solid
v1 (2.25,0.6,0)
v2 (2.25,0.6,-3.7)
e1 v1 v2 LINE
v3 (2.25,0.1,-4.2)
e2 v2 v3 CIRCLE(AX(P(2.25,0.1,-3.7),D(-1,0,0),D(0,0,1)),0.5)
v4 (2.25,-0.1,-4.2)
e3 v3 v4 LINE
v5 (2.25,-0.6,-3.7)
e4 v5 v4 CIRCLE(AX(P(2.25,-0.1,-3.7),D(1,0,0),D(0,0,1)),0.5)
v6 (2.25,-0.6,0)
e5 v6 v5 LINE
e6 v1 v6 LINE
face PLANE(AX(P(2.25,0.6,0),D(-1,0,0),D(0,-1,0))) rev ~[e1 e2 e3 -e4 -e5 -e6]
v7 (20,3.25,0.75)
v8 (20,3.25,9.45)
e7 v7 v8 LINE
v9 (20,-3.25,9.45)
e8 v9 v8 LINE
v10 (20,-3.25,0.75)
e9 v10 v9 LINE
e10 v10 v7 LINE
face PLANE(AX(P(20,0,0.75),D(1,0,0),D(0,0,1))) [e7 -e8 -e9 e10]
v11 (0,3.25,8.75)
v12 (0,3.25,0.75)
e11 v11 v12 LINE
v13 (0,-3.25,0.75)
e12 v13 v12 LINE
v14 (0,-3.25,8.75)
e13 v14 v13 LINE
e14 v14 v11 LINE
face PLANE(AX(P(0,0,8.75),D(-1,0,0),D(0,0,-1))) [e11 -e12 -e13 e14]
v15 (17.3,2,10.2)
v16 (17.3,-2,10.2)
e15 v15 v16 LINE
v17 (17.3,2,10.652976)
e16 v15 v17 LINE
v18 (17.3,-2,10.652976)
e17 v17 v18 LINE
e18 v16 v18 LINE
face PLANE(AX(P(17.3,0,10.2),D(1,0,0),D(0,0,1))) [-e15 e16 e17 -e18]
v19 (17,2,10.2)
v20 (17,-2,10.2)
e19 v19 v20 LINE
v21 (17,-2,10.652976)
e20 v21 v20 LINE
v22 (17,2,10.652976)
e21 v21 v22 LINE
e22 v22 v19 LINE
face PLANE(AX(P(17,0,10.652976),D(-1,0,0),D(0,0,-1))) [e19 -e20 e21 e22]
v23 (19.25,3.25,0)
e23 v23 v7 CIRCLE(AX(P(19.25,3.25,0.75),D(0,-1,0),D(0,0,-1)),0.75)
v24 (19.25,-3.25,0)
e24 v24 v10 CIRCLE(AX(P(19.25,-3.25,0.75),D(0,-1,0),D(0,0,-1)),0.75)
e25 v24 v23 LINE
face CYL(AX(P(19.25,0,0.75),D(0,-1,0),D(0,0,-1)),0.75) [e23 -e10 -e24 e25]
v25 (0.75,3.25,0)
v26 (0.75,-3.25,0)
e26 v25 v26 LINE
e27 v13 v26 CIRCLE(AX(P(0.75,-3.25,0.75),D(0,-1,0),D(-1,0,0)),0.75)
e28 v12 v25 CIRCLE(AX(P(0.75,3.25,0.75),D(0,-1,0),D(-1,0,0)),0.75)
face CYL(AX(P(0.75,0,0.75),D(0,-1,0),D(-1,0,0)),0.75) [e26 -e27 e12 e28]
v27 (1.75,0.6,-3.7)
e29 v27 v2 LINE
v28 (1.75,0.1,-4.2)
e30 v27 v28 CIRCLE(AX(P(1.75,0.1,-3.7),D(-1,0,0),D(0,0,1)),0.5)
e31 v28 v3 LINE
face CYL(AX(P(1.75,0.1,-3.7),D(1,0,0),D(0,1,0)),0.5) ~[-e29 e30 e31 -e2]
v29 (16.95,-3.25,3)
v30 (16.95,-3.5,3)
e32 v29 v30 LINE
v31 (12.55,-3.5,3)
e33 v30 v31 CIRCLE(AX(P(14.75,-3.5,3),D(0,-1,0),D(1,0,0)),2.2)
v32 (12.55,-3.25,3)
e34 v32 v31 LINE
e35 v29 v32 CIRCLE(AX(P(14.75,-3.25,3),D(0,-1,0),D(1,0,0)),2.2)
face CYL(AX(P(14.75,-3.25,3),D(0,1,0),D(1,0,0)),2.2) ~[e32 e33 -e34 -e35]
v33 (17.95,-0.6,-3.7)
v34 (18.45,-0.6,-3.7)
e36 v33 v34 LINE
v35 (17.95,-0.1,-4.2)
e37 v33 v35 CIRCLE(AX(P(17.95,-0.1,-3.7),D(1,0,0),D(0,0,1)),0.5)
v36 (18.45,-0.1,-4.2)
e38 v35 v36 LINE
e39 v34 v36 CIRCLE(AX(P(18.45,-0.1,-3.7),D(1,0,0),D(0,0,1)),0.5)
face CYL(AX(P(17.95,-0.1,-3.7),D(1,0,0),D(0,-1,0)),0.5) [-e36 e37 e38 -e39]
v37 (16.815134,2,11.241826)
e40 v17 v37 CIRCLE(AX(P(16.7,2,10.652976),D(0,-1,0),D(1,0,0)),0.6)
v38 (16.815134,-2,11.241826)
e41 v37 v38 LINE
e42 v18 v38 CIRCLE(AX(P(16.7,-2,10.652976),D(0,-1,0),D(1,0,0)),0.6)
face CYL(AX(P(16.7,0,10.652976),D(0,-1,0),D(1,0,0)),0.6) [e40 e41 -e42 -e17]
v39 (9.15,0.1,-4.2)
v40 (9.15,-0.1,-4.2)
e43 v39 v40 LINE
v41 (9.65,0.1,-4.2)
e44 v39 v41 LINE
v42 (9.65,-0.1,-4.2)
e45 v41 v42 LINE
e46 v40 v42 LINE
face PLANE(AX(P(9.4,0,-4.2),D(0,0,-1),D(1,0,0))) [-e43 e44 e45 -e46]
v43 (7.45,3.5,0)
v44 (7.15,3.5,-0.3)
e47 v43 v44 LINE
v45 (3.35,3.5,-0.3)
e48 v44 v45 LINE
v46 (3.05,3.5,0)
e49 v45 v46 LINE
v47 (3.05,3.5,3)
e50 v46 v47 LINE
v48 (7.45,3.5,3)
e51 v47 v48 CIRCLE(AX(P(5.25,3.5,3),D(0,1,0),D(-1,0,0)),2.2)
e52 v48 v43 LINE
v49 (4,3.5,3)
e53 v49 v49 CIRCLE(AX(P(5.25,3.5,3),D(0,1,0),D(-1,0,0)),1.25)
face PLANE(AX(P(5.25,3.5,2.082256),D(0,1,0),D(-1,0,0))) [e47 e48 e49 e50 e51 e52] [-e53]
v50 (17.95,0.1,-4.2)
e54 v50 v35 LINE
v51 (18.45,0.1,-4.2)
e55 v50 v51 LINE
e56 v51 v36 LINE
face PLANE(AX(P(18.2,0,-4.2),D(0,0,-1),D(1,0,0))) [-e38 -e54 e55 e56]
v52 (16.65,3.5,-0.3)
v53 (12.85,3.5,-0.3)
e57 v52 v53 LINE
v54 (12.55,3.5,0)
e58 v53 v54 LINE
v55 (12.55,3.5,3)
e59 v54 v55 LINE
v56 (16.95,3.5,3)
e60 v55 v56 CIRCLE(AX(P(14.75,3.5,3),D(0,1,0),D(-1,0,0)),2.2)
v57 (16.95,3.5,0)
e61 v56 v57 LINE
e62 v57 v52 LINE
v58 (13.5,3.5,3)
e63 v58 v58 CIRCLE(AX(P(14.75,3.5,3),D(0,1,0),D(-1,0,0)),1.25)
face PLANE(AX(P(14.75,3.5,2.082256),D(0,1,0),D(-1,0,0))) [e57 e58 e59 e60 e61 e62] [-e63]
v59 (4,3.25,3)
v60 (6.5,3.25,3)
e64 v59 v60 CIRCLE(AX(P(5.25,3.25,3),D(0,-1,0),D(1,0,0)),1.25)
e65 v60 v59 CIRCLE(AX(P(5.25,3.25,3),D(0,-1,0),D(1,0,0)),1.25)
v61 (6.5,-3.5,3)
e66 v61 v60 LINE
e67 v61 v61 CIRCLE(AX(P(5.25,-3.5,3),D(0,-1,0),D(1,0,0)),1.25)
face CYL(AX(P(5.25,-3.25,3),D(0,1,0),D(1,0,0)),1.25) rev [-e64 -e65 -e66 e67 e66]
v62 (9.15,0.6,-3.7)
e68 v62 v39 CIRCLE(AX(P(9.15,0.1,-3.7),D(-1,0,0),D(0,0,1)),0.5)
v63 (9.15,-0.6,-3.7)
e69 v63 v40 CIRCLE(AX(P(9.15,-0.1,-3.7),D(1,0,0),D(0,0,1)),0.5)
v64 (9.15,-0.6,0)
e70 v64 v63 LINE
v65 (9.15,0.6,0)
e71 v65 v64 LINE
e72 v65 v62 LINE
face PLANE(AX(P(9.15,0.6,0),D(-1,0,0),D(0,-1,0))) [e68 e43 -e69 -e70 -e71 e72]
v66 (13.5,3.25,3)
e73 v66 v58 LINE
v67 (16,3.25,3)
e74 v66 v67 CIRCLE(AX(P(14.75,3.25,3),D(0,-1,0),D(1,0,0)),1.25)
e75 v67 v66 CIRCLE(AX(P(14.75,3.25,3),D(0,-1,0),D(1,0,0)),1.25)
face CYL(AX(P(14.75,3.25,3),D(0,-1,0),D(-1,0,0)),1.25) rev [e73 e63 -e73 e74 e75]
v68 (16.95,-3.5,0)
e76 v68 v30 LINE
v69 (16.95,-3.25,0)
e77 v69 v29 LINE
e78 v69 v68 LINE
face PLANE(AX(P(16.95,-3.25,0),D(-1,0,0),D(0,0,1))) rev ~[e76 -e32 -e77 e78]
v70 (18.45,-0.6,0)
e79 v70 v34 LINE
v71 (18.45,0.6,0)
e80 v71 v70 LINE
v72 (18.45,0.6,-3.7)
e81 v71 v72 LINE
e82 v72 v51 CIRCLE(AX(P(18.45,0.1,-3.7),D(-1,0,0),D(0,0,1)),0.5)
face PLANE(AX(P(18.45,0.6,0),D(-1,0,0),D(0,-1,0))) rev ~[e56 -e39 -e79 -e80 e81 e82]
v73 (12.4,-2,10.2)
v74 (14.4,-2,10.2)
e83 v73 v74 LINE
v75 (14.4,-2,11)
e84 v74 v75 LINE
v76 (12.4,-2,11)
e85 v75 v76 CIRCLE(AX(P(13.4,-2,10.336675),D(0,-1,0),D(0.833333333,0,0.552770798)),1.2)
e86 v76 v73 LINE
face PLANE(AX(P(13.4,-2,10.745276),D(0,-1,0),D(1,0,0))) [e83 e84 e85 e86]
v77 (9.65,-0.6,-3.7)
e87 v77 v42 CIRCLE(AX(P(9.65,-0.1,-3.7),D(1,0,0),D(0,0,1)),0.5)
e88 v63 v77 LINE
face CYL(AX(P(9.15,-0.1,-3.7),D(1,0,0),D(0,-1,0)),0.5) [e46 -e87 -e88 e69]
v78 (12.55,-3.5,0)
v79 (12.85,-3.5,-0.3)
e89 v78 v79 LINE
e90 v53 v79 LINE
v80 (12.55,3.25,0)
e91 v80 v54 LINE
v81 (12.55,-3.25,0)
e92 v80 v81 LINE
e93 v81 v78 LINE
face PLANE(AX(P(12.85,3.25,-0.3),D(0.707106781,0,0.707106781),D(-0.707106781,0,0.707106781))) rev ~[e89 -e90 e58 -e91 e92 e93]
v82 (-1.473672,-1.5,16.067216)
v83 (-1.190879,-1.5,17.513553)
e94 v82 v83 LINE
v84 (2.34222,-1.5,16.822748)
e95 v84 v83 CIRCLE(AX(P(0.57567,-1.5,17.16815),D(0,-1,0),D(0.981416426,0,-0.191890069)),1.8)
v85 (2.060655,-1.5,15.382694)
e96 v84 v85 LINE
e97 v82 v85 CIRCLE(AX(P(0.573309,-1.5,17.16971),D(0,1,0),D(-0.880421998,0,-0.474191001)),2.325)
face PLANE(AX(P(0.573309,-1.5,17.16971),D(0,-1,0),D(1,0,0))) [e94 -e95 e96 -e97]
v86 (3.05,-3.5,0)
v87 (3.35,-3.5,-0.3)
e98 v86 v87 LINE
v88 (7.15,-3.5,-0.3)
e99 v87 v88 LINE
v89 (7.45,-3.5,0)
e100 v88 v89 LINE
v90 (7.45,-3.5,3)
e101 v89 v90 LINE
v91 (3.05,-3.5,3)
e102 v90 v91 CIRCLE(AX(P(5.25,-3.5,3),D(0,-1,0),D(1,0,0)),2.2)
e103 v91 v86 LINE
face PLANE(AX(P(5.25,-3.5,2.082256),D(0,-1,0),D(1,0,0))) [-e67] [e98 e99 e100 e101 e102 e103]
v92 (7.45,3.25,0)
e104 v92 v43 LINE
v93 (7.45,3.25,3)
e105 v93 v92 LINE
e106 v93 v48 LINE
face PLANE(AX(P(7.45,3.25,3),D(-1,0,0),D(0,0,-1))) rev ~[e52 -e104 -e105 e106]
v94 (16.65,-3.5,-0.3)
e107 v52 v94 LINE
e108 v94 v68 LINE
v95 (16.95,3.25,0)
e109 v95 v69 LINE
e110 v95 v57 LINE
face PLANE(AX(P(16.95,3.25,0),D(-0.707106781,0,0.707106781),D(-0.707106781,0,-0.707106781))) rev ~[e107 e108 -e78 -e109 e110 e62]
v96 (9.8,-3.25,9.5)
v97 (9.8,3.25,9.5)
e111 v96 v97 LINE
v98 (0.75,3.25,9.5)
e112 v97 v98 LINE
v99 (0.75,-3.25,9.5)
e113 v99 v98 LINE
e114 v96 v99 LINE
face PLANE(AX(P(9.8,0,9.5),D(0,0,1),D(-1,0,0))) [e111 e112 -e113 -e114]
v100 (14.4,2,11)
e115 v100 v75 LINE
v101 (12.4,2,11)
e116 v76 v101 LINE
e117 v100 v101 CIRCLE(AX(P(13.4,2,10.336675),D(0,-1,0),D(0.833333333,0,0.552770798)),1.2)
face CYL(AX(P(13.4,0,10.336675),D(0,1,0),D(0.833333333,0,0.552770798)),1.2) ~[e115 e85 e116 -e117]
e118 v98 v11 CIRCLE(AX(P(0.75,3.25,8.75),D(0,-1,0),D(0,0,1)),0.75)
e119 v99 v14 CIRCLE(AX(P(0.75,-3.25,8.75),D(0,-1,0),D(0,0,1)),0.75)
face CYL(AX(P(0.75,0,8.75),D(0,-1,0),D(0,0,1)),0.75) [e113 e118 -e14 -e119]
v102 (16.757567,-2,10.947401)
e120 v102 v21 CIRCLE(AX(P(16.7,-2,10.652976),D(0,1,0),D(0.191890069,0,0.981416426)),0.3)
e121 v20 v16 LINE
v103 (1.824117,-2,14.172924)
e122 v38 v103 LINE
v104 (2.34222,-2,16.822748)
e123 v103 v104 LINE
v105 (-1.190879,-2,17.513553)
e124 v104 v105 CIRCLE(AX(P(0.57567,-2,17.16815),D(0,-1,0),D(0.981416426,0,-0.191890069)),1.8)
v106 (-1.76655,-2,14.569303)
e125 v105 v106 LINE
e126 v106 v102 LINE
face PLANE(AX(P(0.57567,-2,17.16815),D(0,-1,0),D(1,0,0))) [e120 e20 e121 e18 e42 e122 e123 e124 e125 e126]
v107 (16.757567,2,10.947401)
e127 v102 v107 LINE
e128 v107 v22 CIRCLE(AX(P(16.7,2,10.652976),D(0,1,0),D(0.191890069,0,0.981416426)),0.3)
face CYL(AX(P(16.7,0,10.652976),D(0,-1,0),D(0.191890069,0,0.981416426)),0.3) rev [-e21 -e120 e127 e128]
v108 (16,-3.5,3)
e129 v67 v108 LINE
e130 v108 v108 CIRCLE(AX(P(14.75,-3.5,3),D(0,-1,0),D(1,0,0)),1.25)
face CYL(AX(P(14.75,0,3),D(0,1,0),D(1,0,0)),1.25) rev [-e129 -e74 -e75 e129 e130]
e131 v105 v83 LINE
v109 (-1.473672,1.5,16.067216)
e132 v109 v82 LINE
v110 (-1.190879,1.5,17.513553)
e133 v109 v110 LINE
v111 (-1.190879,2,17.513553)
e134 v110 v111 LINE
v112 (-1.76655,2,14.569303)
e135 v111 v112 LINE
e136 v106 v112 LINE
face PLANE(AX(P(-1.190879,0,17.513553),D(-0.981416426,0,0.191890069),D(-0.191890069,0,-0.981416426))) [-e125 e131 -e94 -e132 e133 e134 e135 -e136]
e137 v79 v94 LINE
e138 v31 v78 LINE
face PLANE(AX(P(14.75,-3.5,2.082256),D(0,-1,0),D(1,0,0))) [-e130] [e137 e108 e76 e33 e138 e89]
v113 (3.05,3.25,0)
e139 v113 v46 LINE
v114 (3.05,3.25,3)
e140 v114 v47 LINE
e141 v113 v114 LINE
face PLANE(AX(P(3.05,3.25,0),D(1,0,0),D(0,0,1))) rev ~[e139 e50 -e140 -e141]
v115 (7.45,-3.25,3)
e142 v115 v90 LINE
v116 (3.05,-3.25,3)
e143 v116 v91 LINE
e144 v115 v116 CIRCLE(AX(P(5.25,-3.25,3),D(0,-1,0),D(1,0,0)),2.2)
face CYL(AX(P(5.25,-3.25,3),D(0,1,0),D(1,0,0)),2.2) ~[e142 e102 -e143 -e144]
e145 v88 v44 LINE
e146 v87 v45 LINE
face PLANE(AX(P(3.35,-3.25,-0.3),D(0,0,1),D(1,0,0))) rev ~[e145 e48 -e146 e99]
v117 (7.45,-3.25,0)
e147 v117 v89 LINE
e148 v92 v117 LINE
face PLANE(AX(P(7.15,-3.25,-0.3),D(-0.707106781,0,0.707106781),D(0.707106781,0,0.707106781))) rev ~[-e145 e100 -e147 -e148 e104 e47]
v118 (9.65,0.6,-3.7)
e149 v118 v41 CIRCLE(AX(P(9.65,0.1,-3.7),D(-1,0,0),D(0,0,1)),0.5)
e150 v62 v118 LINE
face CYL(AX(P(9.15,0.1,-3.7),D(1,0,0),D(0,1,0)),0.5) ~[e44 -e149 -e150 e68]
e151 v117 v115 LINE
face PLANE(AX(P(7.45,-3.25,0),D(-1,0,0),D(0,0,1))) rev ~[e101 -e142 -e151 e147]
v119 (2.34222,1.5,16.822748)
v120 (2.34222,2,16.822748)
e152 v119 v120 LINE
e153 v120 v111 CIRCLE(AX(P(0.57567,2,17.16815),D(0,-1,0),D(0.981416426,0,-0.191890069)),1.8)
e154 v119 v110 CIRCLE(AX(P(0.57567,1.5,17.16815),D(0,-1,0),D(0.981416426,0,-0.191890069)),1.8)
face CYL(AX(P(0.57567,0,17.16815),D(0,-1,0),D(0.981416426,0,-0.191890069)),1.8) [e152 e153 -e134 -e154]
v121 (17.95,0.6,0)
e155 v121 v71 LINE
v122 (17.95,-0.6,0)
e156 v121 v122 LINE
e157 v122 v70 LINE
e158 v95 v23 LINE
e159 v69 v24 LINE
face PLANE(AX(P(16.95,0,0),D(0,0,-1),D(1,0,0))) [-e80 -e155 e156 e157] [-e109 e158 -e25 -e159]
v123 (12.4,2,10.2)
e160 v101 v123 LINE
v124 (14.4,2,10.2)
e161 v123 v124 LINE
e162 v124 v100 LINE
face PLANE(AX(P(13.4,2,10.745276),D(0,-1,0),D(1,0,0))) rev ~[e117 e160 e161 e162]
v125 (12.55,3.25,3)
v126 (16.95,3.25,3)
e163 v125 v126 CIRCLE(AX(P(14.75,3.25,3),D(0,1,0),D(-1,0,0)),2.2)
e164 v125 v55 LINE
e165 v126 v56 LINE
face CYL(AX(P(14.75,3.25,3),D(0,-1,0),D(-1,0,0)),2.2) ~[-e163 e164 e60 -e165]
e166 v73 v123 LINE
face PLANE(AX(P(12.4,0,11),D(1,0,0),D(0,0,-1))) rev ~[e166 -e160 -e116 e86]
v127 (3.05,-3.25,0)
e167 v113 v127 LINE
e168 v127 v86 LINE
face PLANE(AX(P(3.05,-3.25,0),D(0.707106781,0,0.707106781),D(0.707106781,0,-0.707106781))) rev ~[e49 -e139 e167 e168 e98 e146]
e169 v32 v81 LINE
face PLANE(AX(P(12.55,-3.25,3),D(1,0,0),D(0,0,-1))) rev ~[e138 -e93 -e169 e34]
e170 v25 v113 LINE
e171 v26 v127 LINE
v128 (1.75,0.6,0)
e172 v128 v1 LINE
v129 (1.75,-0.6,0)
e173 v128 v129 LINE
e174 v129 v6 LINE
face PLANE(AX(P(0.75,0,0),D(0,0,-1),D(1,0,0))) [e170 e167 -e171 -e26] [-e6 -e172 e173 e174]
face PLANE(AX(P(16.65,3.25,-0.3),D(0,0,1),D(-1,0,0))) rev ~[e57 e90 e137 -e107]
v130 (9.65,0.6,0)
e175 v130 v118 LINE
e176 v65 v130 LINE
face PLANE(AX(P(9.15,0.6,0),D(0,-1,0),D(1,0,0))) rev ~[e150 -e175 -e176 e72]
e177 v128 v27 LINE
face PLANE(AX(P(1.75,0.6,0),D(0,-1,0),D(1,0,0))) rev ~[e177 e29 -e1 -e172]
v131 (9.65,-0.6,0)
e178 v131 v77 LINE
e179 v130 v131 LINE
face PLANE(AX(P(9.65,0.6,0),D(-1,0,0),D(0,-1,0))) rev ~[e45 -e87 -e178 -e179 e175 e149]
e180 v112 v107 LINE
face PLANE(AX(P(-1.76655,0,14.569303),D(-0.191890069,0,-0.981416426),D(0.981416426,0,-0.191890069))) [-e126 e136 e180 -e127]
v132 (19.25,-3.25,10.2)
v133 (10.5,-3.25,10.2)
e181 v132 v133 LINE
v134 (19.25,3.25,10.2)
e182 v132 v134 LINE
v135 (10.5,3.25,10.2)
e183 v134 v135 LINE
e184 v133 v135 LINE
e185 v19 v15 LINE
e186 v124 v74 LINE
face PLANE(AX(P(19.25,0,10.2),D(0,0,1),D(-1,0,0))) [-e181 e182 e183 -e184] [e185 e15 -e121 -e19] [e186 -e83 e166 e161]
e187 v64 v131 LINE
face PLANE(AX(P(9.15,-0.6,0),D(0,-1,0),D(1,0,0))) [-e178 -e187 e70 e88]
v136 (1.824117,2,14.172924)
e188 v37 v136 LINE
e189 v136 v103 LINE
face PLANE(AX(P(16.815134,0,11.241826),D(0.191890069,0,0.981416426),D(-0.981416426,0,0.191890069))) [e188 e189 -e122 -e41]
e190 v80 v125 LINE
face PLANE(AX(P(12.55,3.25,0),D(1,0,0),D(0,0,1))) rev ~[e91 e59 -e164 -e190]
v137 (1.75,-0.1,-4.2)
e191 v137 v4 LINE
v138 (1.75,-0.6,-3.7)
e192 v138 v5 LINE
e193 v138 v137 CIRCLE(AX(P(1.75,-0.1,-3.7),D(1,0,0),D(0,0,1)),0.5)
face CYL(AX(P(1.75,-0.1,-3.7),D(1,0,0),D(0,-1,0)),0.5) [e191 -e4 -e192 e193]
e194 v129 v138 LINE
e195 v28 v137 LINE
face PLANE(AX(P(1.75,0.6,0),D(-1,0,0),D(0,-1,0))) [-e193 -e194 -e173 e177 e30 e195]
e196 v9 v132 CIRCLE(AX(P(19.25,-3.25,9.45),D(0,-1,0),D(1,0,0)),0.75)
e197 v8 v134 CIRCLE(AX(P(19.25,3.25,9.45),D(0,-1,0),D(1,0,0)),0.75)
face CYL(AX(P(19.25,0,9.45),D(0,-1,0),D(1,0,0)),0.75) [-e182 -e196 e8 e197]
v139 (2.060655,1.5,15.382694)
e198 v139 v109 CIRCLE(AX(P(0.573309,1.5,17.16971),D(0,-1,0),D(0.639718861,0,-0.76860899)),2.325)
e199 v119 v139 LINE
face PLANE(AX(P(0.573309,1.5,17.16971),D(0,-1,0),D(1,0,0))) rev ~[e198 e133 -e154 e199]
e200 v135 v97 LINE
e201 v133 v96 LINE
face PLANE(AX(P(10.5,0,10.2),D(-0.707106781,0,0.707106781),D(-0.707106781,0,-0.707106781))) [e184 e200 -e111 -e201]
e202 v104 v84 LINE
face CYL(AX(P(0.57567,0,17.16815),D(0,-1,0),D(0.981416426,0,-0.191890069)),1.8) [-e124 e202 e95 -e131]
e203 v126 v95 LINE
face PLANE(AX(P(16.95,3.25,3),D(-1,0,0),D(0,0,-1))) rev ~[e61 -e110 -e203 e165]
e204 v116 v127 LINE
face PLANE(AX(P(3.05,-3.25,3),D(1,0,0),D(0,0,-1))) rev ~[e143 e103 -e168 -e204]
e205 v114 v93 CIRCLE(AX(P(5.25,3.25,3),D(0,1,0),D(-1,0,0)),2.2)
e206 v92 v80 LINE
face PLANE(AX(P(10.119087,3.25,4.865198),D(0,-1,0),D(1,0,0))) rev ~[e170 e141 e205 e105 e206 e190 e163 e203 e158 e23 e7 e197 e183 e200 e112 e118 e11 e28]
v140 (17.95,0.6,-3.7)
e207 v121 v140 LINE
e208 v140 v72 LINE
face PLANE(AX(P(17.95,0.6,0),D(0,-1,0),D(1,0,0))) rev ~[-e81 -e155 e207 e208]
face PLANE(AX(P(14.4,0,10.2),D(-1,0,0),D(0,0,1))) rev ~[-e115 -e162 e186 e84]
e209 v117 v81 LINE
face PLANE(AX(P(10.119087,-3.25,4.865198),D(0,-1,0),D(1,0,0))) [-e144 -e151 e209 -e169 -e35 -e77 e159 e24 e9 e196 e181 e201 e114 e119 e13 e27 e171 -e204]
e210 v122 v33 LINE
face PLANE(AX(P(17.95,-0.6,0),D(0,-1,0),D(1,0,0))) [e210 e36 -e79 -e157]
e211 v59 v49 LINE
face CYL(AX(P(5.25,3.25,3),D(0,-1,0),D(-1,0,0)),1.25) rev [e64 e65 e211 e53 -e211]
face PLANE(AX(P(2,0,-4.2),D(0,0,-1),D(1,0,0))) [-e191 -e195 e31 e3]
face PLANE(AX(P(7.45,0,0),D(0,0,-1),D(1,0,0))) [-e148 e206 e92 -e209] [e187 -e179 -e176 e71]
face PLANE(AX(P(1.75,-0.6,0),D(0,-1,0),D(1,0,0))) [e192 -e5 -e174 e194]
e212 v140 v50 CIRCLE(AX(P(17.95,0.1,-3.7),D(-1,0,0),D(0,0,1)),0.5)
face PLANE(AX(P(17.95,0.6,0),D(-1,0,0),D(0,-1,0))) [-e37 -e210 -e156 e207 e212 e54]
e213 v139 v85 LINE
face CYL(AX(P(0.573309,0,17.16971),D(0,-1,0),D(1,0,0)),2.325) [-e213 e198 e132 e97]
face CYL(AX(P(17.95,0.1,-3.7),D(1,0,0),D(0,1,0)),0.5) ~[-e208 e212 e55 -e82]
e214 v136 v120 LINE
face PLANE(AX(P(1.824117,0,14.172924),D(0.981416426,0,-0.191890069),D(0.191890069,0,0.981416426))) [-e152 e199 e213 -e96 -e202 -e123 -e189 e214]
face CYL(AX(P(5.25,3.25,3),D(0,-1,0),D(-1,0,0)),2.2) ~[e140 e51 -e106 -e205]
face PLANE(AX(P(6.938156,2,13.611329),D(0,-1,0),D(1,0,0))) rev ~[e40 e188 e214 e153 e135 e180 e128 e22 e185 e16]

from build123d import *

# Parameters (mm, degrees)
F0_R      = 1.25
F1_DEPTH  = 3.25
F2_R      = 1.25
F3_DEPTH  = 0.25
F4_R      = 1.25
F5_DEPTH  = 0.25
F6_R      = 0.75
F7_DEPTH  = 2
F8_W      = 3.4
F8_H      = 6
F9_DEPTH  = 25
F10_R     = 0.75
F11_DEPTH = 4
F12_W     = 0.5
F12_H     = 1.2
F13_DEPTH = 4.2
F14_R     = 0.5
F15_R     = 2.325
F15_R_2   = 0.8
F16_DEPTH = 1.5


with BuildPart() as f1:
    # F0 (on Front) → F1 (new body, symmetric)
    with BuildSketch(Plane.XZ):
        with BuildLine():
            ThreePointArc((0, 0.75), (0.2196699141, 0.2196699141), (0.75, 0))
            Line((0.75, 0), (3.05, 0))
            Line((3.05, 0), (3.35, -0.3))
            Line((3.35, -0.3), (7.15, -0.3))
            Line((7.15, -0.3), (7.45, 0))
            Line((7.45, 0), (12.55, 0))
            Line((12.55, 0), (12.85, -0.3))
            Line((12.85, -0.3), (16.65, -0.3))
            Line((16.65, -0.3), (16.95, 0))
            Line((16.95, 0), (19.25, 0))
            ThreePointArc((19.25, 0), (19.7803300859, 0.2196699141), (20, 0.75))
            Line((20, 0.75), (20, 9.45))
            ThreePointArc((20, 9.45), (19.7803300859, 9.9803300859), (19.25, 10.2))
            Line((19.25, 10.2), (10.5, 10.2))
            Line((10.5, 10.2), (9.8, 9.5))
            Line((9.8, 9.5), (0.75, 9.5))
            ThreePointArc((0.75, 9.5), (0.2196699141, 9.2803300859), (0, 8.75))
            Line((0, 8.75), (0, 0.75))
        make_face()
        with Locations((5.25, 3)):
            Circle(F0_R, mode=Mode.SUBTRACT)
        with Locations((14.75, 3)):
            Circle(F0_R, mode=Mode.SUBTRACT)
    extrude(amount=F1_DEPTH, both=True)

    # F2 (on face) → F3 (join)
    with BuildSketch(Plane.XZ.offset(3.25)):
        with BuildLine():
            Line((7.45, 0), (7.45, 3))
            ThreePointArc((7.45, 3), (5.25, 5.2), (3.05, 3))
            Line((3.05, 3), (3.05, 0))
            Line((3.05, 0), (3.35, -0.3))
            Line((3.35, -0.3), (7.15, -0.3))
            Line((7.15, -0.3), (7.45, 0))
        make_face()
        with Locations((5.25, 3)):
            Circle(F2_R, mode=Mode.SUBTRACT)
        with BuildLine():
            Line((16.95, 0), (16.95, 3))
            ThreePointArc((16.95, 3), (14.75, 5.2), (12.55, 3))
            Line((12.55, 3), (12.55, 0))
            Line((12.55, 0), (12.85, -0.3))
            Line((12.85, -0.3), (16.65, -0.3))
            Line((16.65, -0.3), (16.95, 0))
        make_face()
        with Locations((14.75, 3)):
            Circle(F2_R, mode=Mode.SUBTRACT)
    extrude(amount=F3_DEPTH)

    # F4 (on face) → F5 (join)
    with BuildSketch(Plane(origin=(0, 3.25, 0), x_dir=(-1, 0, 0), z_dir=(0, 1, 0))):
        with BuildLine():
            Line((-12.55, 0), (-12.55, 3))
            ThreePointArc((-12.55, 3), (-14.75, 5.2), (-16.95, 3))
            Line((-16.95, 3), (-16.95, 0))
            Line((-16.95, 0), (-16.65, -0.3))
            Line((-16.65, -0.3), (-12.85, -0.3))
            Line((-12.85, -0.3), (-12.55, 0))
        make_face()
        with Locations((-14.75, 3)):
            Circle(F4_R, mode=Mode.SUBTRACT)
        with BuildLine():
            Line((-3.05, 0), (-3.05, 3))
            ThreePointArc((-3.05, 3), (-5.25, 5.2), (-7.45, 3))
            Line((-7.45, 3), (-7.45, 0))
            Line((-7.45, 0), (-7.15, -0.3))
            Line((-7.15, -0.3), (-3.35, -0.3))
            Line((-3.35, -0.3), (-3.05, 0))
        make_face()
        with Locations((-5.25, 3)):
            Circle(F4_R, mode=Mode.SUBTRACT)
    extrude(amount=F5_DEPTH)

    # F6 (on Front) → F7 (join, symmetric)
    with BuildSketch(Plane.XZ):
        with BuildLine():
            Line((12.4, 10.2), (14.4, 10.2))
            Line((14.4, 10.2), (14.4, 11))
            ThreePointArc((14.4, 11), (13.4, 11.5366750419), (12.4, 11))
            Line((12.4, 11), (12.4, 10.2))
        make_face()
        with BuildLine():
            Line((17, 10.6529764402), (17, 10.2))
            Line((17, 10.2), (17.3, 10.2))
            Line((17.3, 10.2), (17.3, 10.6529764402))
            ThreePointArc((17.3, 10.6529764402), (17.1631848578, 11.0343683482), (16.8151340416, 11.2418262958))
            Line((16.8151340416, 11.2418262958), (1.8241165877, 14.1729239433))
            Line((1.8241165877, 14.1729239433), (2.3422197747, 16.8227482936))
            ThreePointArc((2.3422197747, 16.8227482936), (0.9210723325, 18.9346999851), (-1.1908793591, 17.5135525429))
            Line((-1.1908793591, 17.5135525429), (-1.7665495669, 14.5693032648))
            Line((-1.7665495669, 14.5693032648), (16.7575670208, 10.947401368))
            ThreePointArc((16.7575670208, 10.947401368), (16.9315924289, 10.8436723942), (17, 10.6529764402))
        make_face()
        with Locations((0.5756702078, 17.1681504183)):
            Circle(F6_R, mode=Mode.SUBTRACT)
    extrude(amount=F7_DEPTH, both=True)

    # F8 (on face) → F9 (cut)
    with BuildSketch(Plane(origin=(-4.4452524635, 0, 0.8691517489), x_dir=(0, -1, 0), z_dir=(-0.981416426, 0, 0.1918900693))):
        with Locations((0, 17.2595702214)):
            Rectangle(F8_W, F8_H)
    extrude(amount=F9_DEPTH, mode=Mode.SUBTRACT)

    # F12 (on face) → F13 (join)
    with BuildSketch(Plane(origin=(0, 0, 0), x_dir=(1, 0, 0), z_dir=(0, 0, -1))):
        with Locations((18.2, 0)):
            Rectangle(F12_W, F12_H)
        with Locations((9.4, 0)):
            Rectangle(F12_W, F12_H)
        with Locations((2, 0)):
            Rectangle(F12_W, F12_H)
    extrude(amount=F13_DEPTH)

    # F14
    f14_edges = [f1.edges().sort_by_distance(p)[0] for p in [
        (2, -0.6, -4.2),
        (2, 0.6, -4.2),
        (9.4, 0.6, -4.2),
        (9.4, -0.6, -4.2),
        (18.2, -0.6, -4.2),
        (18.2, 0.6, -4.2),
    ]]
    fillet(f14_edges, radius=F14_R)



with BuildPart() as f11:
    # F10 (on face) → F11 (new body)
    with BuildSketch(Plane.XZ.offset(2)):
        with Locations((0.5756702078, 17.1681504183)):
            Circle(F10_R)
    extrude(amount=-F11_DEPTH)


with BuildPart() as f1_1:
    add(f1.part)

    add(f11.part)  # F16 merges F11
    # F15 (on Front) → F16 (join, symmetric)
    with BuildSketch(Plane.XZ):
        with Locations((0.5733088478, 17.1697099968)):
            Circle(F15_R)
        with Locations((0.5733088478, 17.1697099968)):
            Circle(F15_R_2, mode=Mode.SUBTRACT)
        with Locations((0.5733088478, 17.1697099968)):
            Circle(F15_R_2)
    extrude(amount=F16_DEPTH, both=True)


solid = f1_1.part
